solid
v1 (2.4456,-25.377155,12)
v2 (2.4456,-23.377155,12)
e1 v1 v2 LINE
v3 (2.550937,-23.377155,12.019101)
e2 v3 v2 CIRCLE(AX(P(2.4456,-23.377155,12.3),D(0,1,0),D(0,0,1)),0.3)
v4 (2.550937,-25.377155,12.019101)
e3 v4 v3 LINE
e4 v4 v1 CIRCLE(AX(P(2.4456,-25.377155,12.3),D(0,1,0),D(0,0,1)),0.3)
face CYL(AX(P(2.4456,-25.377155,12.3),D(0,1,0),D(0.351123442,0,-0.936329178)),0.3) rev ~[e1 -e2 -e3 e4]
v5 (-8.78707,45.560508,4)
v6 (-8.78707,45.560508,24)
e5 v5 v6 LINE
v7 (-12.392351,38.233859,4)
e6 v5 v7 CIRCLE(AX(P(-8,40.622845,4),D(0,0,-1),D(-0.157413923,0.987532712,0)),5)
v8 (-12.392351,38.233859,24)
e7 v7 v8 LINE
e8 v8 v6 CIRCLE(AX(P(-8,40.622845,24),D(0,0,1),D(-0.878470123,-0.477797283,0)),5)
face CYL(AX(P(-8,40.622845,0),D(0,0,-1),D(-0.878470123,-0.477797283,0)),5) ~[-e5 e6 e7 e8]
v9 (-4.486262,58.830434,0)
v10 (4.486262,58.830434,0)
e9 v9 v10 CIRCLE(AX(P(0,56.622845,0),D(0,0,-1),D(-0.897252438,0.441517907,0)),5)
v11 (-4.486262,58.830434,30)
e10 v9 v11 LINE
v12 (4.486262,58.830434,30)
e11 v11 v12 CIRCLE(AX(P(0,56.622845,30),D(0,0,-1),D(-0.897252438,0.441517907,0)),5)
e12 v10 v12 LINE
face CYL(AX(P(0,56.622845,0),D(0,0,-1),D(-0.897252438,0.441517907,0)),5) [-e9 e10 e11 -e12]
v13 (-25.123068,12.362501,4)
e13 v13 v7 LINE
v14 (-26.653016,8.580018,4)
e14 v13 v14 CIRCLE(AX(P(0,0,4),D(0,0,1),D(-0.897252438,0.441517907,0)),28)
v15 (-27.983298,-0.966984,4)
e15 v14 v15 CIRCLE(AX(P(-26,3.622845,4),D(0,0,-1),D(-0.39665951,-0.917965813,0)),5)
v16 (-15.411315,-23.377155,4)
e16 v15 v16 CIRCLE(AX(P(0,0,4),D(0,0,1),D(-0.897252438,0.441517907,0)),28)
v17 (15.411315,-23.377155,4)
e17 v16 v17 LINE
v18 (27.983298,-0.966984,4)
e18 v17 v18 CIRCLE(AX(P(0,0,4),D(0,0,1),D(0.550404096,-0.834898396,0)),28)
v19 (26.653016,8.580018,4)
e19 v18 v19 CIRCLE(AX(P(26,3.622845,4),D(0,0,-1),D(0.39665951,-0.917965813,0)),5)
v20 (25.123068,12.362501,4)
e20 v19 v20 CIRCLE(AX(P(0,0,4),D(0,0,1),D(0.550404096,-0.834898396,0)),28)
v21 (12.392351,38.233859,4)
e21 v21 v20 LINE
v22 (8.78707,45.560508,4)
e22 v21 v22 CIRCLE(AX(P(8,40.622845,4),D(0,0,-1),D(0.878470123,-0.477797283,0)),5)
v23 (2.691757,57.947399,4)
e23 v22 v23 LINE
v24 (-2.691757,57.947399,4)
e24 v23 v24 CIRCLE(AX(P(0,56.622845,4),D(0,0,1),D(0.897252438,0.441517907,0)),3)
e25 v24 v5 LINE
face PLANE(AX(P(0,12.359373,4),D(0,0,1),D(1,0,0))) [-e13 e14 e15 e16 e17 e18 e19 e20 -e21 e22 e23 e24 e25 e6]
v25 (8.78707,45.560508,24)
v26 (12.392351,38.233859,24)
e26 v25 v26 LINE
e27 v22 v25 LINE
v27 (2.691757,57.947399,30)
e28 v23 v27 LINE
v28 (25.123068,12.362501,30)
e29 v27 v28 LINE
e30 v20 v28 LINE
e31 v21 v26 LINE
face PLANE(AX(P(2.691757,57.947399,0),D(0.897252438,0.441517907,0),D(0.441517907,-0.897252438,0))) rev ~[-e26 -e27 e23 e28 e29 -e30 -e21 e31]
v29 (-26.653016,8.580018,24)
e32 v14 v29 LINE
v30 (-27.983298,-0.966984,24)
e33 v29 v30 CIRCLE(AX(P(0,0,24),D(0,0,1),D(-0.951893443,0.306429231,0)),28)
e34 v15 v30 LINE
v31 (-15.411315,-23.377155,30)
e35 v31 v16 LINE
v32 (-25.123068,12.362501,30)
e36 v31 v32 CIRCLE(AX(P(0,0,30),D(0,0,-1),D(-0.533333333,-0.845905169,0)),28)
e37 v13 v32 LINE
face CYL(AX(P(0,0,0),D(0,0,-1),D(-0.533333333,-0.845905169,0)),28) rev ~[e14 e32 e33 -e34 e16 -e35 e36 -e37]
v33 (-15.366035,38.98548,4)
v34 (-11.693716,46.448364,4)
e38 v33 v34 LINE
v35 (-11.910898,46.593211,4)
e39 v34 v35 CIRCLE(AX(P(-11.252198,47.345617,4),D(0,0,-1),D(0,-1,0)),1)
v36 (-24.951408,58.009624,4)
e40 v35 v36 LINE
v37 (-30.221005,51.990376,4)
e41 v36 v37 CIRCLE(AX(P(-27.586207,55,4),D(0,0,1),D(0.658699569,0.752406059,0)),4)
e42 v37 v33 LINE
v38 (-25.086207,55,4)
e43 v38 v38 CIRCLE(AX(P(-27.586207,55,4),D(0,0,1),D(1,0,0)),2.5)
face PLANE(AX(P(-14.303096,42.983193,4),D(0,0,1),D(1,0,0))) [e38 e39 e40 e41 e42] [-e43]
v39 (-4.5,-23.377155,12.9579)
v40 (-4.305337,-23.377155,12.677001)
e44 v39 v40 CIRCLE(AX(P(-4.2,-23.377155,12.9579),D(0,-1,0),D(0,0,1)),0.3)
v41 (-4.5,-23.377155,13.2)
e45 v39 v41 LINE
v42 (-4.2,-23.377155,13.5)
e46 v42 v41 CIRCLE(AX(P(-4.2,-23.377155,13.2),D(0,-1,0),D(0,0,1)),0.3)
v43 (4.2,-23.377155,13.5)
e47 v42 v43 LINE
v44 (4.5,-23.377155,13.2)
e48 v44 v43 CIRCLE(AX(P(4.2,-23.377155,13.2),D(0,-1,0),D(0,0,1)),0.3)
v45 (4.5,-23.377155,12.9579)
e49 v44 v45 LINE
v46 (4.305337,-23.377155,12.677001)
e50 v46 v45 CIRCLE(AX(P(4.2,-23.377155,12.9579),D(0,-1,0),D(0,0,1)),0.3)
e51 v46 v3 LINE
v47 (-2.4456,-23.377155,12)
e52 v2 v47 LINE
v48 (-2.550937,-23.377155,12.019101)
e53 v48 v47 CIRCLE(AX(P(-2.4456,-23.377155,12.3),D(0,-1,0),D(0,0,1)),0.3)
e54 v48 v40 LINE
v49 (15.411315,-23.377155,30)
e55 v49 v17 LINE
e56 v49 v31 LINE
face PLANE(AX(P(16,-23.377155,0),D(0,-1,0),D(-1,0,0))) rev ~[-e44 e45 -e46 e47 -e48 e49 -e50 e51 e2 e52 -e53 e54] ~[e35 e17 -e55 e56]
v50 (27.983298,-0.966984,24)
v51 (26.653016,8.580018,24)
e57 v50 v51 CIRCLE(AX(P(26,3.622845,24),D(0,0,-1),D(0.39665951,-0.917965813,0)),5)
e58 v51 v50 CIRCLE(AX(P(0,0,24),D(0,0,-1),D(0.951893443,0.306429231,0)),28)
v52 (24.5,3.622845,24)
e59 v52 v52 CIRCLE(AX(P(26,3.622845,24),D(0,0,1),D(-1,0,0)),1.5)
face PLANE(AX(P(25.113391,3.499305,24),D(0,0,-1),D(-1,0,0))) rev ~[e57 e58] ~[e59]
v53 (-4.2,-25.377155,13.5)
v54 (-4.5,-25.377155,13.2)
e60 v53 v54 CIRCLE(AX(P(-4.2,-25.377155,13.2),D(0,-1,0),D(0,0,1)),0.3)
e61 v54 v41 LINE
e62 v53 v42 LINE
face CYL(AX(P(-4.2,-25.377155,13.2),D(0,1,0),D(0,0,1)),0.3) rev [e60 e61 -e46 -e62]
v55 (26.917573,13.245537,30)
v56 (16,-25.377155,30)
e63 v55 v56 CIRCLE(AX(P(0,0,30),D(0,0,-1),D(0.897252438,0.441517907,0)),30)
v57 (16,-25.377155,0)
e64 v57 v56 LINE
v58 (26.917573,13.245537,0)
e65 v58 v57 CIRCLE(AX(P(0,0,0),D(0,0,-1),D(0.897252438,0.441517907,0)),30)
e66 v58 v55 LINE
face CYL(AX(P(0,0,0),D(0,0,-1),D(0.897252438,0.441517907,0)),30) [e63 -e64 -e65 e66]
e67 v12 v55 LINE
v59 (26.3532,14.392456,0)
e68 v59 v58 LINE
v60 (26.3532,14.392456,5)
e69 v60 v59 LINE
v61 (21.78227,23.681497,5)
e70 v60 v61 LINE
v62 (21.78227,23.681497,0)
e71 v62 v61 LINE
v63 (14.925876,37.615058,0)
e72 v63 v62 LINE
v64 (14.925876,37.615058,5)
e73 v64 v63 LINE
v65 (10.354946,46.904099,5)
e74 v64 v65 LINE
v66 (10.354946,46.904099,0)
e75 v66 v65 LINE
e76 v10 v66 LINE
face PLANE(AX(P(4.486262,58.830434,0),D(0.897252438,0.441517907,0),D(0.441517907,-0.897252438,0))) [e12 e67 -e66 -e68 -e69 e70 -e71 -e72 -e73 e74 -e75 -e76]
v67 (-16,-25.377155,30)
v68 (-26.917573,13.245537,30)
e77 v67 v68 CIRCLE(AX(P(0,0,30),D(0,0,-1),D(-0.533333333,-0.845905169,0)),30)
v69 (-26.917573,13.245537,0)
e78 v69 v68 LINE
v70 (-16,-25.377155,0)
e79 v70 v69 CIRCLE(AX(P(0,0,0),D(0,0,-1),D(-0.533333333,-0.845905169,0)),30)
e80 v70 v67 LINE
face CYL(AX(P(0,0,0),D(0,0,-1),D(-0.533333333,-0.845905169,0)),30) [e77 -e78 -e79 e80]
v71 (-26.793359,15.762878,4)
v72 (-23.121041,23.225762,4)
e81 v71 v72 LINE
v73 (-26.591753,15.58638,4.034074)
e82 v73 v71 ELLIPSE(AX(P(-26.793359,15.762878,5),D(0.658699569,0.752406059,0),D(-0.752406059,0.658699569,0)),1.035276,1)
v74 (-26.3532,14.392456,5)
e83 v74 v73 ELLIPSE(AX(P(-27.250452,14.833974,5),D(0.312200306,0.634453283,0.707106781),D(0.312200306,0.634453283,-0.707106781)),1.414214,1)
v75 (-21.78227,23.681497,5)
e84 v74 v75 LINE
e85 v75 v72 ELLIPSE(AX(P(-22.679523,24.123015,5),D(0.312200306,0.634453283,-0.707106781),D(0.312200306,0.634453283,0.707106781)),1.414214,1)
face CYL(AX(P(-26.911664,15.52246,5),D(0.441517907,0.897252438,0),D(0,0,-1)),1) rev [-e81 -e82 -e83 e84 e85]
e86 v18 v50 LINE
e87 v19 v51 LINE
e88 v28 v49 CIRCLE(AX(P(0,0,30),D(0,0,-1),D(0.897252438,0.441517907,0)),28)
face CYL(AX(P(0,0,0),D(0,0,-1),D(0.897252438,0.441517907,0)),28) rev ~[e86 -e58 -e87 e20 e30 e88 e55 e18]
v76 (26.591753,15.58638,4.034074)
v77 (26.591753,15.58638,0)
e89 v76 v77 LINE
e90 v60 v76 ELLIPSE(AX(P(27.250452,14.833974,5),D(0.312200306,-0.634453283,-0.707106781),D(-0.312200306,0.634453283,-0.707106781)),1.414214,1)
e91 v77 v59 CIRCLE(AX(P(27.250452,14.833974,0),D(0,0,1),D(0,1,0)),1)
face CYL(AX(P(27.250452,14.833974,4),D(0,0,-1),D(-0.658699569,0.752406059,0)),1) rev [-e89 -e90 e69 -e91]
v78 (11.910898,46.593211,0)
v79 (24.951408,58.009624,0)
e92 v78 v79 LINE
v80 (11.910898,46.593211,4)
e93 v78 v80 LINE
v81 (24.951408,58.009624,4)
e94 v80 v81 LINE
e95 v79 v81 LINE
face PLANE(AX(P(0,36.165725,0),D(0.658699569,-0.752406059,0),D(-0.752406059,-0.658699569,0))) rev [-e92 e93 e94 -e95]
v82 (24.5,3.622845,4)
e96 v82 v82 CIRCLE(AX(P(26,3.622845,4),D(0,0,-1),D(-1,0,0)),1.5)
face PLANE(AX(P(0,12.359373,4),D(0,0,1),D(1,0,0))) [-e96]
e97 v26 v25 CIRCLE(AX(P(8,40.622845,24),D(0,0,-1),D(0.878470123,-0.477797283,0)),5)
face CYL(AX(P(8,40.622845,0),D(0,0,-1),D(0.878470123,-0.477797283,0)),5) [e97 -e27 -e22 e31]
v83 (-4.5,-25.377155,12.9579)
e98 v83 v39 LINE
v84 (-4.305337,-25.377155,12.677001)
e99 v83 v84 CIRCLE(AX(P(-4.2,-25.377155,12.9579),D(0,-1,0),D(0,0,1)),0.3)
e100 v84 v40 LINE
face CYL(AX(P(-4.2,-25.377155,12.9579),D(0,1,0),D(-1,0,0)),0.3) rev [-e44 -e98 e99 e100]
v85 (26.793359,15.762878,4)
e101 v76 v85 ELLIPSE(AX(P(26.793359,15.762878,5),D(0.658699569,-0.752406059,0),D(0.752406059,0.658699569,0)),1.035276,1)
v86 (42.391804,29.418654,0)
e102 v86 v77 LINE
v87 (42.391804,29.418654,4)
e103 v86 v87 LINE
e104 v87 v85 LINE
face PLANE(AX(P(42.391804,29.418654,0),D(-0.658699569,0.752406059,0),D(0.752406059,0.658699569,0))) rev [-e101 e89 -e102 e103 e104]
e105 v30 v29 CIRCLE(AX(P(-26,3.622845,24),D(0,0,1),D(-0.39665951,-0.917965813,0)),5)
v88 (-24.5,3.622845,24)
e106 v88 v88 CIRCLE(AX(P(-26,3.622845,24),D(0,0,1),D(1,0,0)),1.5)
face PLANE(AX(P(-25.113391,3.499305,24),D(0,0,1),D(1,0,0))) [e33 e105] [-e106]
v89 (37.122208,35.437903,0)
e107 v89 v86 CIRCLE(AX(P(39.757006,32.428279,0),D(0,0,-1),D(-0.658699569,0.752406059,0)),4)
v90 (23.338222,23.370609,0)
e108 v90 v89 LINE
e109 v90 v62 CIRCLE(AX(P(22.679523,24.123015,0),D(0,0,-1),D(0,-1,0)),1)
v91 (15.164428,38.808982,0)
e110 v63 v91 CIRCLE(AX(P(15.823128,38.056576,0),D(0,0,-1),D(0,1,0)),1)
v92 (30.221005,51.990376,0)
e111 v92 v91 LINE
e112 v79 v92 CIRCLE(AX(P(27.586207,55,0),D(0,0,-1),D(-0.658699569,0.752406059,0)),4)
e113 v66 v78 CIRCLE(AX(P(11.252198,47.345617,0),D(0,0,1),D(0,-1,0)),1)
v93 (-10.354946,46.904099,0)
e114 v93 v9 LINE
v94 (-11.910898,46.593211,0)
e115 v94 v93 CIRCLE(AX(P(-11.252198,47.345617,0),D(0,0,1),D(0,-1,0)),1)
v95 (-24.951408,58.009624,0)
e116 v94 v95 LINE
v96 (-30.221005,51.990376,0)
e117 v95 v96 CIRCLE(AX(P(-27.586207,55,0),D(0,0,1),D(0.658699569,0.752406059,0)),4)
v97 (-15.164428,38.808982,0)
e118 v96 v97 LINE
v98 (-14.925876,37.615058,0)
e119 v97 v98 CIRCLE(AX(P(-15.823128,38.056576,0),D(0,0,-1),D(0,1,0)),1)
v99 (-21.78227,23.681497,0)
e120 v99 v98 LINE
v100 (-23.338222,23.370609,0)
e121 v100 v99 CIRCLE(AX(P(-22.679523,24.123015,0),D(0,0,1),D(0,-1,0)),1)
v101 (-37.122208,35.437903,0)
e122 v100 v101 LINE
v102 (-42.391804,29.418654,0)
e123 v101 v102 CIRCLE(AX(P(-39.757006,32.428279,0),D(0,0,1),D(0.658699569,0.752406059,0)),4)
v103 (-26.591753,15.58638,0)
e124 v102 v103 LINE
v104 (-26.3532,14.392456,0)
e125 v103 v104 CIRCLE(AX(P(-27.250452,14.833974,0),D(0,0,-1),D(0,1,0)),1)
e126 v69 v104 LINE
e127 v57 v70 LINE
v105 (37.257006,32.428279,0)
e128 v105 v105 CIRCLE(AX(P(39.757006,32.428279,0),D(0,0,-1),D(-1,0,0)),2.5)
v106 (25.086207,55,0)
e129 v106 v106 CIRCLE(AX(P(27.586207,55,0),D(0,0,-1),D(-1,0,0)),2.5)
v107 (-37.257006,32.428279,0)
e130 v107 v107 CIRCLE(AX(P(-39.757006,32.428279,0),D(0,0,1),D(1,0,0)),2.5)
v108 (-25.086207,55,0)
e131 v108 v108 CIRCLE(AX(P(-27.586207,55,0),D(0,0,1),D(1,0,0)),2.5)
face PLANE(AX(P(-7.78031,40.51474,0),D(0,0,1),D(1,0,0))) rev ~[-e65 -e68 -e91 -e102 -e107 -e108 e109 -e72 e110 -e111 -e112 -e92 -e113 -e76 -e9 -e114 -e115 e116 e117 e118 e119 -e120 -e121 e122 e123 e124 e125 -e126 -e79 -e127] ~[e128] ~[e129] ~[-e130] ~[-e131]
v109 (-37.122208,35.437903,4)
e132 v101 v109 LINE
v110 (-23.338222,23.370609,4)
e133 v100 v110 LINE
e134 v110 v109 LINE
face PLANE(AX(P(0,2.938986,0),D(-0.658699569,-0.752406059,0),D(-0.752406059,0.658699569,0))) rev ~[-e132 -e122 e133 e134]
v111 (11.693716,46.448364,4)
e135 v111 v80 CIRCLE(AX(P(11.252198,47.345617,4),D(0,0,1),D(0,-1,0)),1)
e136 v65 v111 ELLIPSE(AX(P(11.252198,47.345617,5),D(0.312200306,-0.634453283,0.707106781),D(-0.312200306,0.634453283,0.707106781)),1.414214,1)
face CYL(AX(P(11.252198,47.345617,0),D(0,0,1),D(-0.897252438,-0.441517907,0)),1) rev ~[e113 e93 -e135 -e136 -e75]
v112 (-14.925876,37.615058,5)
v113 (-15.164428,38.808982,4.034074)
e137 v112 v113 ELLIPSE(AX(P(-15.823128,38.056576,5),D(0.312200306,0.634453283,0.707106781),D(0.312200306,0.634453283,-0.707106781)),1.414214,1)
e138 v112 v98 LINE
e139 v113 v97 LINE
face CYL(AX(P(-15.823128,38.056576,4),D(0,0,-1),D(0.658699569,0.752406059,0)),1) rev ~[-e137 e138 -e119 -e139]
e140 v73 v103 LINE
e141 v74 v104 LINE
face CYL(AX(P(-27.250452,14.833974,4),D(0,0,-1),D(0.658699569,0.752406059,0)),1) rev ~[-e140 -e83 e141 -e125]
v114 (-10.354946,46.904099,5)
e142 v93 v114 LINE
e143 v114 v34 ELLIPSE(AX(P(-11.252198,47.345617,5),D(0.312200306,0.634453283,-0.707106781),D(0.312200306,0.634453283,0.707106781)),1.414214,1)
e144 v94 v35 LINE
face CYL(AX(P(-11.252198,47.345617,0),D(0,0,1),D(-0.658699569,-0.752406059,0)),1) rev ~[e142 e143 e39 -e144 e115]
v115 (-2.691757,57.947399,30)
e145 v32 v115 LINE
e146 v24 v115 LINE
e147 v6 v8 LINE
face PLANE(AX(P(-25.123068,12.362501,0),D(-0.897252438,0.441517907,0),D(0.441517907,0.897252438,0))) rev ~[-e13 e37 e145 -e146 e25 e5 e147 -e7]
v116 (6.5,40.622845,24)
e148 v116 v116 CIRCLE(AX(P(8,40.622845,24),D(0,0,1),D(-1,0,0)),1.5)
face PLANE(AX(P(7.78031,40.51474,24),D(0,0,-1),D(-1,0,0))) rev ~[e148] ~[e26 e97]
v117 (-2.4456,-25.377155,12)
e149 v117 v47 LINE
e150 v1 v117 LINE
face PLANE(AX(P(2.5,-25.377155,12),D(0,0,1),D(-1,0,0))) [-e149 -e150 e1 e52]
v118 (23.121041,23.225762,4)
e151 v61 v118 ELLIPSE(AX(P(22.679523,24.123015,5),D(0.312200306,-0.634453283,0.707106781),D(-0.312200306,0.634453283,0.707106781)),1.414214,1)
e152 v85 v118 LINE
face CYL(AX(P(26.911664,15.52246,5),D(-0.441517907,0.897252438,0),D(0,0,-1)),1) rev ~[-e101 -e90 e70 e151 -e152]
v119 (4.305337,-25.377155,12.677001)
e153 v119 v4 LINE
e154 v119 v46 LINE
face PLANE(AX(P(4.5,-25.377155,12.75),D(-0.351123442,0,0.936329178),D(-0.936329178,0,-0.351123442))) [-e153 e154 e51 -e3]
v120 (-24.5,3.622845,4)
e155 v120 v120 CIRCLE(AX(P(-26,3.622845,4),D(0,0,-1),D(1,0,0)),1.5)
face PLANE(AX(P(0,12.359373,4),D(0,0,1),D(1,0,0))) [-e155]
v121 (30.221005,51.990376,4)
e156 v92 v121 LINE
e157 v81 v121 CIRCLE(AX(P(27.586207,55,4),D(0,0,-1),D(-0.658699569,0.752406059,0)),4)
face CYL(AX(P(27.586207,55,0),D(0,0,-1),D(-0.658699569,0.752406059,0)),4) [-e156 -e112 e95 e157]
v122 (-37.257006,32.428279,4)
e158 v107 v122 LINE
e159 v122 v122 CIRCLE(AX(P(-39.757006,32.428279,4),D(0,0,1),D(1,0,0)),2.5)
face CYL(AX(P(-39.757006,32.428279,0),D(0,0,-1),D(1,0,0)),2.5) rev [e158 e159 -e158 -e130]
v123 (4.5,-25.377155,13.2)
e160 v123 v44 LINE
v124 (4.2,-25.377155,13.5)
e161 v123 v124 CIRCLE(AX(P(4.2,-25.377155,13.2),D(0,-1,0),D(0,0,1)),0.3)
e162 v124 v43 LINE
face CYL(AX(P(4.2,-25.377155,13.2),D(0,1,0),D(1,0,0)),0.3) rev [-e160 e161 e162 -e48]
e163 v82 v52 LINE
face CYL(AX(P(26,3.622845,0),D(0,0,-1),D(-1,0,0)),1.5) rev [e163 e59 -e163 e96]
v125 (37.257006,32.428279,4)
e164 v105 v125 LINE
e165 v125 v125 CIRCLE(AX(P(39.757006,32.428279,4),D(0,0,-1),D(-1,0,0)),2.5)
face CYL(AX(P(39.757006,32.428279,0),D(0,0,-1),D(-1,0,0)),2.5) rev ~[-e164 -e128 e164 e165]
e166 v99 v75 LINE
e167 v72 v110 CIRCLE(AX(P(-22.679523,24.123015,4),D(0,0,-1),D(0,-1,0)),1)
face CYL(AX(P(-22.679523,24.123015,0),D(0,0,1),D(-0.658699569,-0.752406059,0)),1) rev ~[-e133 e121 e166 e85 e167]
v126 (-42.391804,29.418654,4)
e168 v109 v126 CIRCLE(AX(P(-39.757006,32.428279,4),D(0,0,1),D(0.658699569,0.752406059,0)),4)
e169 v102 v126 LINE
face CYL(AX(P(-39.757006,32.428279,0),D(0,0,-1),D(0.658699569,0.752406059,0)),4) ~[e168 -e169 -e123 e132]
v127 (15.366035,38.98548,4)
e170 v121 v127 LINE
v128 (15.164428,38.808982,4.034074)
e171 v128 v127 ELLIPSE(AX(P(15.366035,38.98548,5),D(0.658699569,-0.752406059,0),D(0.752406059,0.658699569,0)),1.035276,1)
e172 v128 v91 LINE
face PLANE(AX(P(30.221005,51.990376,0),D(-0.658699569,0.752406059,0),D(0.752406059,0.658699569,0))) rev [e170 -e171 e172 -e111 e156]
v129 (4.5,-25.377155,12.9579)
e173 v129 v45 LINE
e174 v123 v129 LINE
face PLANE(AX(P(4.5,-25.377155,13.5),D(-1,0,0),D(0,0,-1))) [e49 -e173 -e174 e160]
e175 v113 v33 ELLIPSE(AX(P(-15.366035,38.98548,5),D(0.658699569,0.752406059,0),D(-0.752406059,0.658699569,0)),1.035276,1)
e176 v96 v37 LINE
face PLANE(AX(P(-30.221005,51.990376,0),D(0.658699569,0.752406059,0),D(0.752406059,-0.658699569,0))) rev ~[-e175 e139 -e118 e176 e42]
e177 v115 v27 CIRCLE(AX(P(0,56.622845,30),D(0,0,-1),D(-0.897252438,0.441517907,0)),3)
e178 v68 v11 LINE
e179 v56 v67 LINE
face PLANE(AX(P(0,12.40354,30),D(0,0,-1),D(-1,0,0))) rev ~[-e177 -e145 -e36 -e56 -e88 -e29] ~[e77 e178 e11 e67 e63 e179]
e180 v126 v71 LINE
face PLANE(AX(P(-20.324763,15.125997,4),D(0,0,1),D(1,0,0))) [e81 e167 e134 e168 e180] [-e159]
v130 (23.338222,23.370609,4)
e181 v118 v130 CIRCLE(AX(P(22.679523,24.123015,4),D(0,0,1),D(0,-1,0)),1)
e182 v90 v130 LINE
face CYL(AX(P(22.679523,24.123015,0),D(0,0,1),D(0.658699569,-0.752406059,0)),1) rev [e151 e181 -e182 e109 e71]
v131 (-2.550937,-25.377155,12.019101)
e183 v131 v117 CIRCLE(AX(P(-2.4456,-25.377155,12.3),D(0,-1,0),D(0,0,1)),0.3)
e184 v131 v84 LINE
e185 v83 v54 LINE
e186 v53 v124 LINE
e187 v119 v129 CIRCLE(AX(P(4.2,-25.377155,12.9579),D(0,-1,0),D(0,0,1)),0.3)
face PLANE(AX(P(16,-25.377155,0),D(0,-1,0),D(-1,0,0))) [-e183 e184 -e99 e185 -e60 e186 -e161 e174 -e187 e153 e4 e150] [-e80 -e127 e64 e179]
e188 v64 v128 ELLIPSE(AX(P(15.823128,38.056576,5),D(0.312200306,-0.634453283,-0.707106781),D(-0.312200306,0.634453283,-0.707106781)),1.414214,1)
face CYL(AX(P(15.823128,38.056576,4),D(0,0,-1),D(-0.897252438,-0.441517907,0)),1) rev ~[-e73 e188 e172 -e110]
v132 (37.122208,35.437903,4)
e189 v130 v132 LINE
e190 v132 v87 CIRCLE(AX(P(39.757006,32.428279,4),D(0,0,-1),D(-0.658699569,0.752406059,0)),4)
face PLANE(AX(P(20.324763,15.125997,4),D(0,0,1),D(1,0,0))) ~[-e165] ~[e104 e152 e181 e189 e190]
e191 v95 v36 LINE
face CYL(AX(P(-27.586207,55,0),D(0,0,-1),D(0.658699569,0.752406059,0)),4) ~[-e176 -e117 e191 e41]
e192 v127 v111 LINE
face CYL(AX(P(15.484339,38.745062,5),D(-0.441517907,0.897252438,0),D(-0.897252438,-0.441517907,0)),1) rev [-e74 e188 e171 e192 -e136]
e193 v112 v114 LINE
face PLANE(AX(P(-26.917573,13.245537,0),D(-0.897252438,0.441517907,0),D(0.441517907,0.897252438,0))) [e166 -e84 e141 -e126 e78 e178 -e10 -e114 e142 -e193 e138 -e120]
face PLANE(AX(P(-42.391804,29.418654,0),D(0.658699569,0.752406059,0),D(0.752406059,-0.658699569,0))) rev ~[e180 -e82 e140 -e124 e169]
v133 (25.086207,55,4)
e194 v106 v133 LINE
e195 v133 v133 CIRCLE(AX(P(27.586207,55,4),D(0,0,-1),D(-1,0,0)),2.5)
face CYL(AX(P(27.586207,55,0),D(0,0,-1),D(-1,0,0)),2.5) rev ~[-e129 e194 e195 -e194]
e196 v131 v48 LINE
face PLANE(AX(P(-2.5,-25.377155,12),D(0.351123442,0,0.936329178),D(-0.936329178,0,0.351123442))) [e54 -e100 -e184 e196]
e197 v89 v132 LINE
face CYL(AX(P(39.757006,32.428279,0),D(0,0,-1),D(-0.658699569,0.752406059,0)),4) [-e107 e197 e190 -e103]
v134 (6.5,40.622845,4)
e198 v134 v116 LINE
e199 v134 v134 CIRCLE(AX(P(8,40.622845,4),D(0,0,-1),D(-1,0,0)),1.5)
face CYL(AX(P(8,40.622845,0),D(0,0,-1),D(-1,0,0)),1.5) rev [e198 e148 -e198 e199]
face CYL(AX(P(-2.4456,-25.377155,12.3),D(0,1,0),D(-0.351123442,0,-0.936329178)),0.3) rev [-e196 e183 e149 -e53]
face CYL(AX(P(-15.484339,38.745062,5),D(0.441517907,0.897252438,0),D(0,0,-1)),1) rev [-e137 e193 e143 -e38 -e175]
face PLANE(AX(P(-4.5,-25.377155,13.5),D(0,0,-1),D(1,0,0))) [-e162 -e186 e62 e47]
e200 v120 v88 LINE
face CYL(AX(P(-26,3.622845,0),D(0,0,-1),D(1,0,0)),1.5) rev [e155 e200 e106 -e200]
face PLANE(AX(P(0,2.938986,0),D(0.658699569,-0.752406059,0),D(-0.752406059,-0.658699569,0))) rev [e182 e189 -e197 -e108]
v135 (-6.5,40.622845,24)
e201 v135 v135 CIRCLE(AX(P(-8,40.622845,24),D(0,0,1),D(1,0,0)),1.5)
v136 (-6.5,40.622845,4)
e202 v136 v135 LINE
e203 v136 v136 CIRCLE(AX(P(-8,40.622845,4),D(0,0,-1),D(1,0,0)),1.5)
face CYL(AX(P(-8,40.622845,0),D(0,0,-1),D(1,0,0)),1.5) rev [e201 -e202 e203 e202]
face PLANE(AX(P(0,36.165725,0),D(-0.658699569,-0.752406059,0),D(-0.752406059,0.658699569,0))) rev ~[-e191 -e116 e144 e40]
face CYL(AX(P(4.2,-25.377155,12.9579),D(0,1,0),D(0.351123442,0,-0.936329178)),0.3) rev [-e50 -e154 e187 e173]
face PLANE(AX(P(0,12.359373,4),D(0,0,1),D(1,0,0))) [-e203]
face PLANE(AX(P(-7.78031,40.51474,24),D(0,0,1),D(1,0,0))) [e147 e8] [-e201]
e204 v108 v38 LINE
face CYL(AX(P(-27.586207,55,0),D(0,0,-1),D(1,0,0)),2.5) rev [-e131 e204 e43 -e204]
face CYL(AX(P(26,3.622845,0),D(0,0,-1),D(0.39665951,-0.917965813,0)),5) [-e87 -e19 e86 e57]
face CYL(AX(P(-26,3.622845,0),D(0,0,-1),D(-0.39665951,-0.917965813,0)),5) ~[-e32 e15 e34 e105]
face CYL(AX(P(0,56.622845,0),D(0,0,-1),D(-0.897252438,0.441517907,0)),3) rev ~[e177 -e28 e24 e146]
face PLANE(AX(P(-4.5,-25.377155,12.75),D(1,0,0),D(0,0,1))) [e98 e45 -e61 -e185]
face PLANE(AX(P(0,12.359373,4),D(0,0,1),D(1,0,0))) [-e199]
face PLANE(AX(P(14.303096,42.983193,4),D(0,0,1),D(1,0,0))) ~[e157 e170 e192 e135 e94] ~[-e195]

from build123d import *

# Parameters (mm, degrees)
BASE_SHELL_DEPTH         = 30
COQUE1_T                 = -2
COQUE1_THICKNESS_2_DEPTH = 2
ESQUISSE4_R              = 1.5
BOSS_EXTRU_2_DEPTH       = 24
ESQUISSE6_R              = 2.5
BOSS_EXTRU_3_DEPTH       = 4
CONG_2_R                 = 1
ENL_V_MAT_EXTRU_1_DEPTH  = 2
CONG_3_R                 = 0.3


with BuildPart() as part:
    # Esquisse2 → Base shell (new body)
    with BuildSketch(Plane.XY):
        with BuildLine():
            Line((-26.917573139, 13.245537222), (-4.48626219, 58.830434456))
            ThreePointArc((-4.48626219, 58.830434456), (0, 61.622844919), (4.48626219, 58.830434456))
            Line((4.48626219, 58.830434456), (26.917573139, 13.245537222))
            ThreePointArc((26.917573139, 13.245537222), (28.868799962, -8.160415969), (16, -25.377155081))
            Line((16, -25.377155081), (-16, -25.377155081))
            ThreePointArc((-16, -25.377155081), (-28.868799962, -8.160415969), (-26.917573139, 13.245537222))
        make_face()
    extrude(amount=BASE_SHELL_DEPTH)

    # Coque1
    coque1_openings = [part.faces().sort_by_distance(p)[0] for p in [
        (0, 9.805982993, 30),
    ]]
    offset(amount=COQUE1_T, openings=coque1_openings, kind=Kind.INTERSECTION)

    # Coque1 thickness 2 face (on inner face of the shell) → Coque1 thickness 2 (add)
    with BuildSketch(Plane(origin=(0, 9.437987549, 2), x_dir=(-1, 0, 0), z_dir=(0, 0, -1))):
        with BuildLine():
            Line((2.691757314, 48.509411092), (25.123068263, 2.924513858))
            ThreePointArc((25.123068263, 2.924513858), (27.020174162, -16.780343321), (15.411314685, -32.81514263))
            Line((15.411314685, -32.81514263), (-15.411314685, -32.81514263))
            ThreePointArc((-15.411314685, -32.81514263), (-27.020174162, -16.780343321), (-25.123068263, 2.924513858))
            Line((-25.123068263, 2.924513858), (-2.691757314, 48.509411092))
            ThreePointArc((-2.691757314, 48.509411092), (0, 50.18485737), (2.691757314, 48.509411092))
        make_face()
    extrude(amount=-COQUE1_THICKNESS_2_DEPTH)

    # Esquisse4 → Boss.-Extru.2 (add)
    # profile 1 of 4: a face of its own
    with BuildSketch(Plane.XY):
        with BuildLine():
            Line((-8.787069617, 45.560508478), (-12.392350614, 38.233858506))
            ThreePointArc((-12.392350614, 38.233858506), (-3.51373781, 38.415255382), (-8.787069617, 45.560508478))
        make_face()
        with Locations((-8, 40.622844919)):
            Circle(ESQUISSE4_R, mode=Mode.SUBTRACT)
    # profile 2 of 4: a face of its own
    with BuildSketch(Plane.XY):
        with BuildLine():
            Line((8.787069617, 45.560508478), (12.392350614, 38.233858506))
            ThreePointArc((12.392350614, 38.233858506), (3.51373781, 38.415255382), (8.787069617, 45.560508478))
        make_face()
        with Locations(Location((8, 40.622844919, 0), (0, 0, 180))):
            Circle(ESQUISSE4_R, mode=Mode.SUBTRACT)
    # profile 3 of 4: a face of its own
    with BuildSketch(Plane.XY):
        with BuildLine():
            ThreePointArc((-27.983297548, -0.966984145), (-21.047843649, 2.932810516), (-26.653016398, 8.580018467))
            ThreePointArc((-26.653016398, 8.580018467), (-27.732075565, 3.864192656), (-27.983297548, -0.966984145))
        make_face()
        with Locations((-26, 3.622844919)):
            Circle(ESQUISSE4_R, mode=Mode.SUBTRACT)
    # profile 4 of 4: a face of its own
    with BuildSketch(Plane.XY):
        with BuildLine():
            ThreePointArc((27.983297548, -0.966984145), (21.047843649, 2.932810516), (26.653016398, 8.580018467))
            ThreePointArc((26.653016398, 8.580018467), (27.732075565, 3.864192656), (27.983297548, -0.966984145))
        make_face()
        with Locations(Location((26, 3.622844919, 0), (0, 0, 180))):
            Circle(ESQUISSE4_R, mode=Mode.SUBTRACT)
    extrude(amount=BOSS_EXTRU_2_DEPTH)

    # Esquisse6 → Boss.-Extru.3 (add)
    # profile 1 of 2: a face of its own
    with BuildSketch(Plane.XY):
        with BuildLine():
            Line((0, 36.165725179), (-24.951408489, 58.009624237))
            ThreePointArc((-24.951408489, 58.009624237), (-30.595831001, 57.634798275), (-30.221005039, 51.990375763))
            Line((-30.221005039, 51.990375763), (0, 25.533168595))
            Line((0, 25.533168595), (0, 36.165725179))
        make_face()
        with Locations((-27.586206764, 55)):
            Circle(ESQUISSE6_R, mode=Mode.SUBTRACT)
    # profile 2 of 2: a face of its own
    with BuildSketch(Plane.XY):
        with BuildLine():
            Line((0, 2.938985855), (-37.122207588, 35.437902929))
            ThreePointArc((-37.122207588, 35.437902929), (-42.7666301, 35.063076966), (-42.391804138, 29.418654454))
            Line((-42.391804138, 29.418654454), (0, -7.693570729))
            Line((0, -7.693570729), (0, 2.938985855))
        make_face()
        with Locations((-39.757005863, 32.428278691)):
            Circle(ESQUISSE6_R, mode=Mode.SUBTRACT)
    boss_extru_3 = extrude(amount=BOSS_EXTRU_3_DEPTH)

    # Symétrie1: Boss.-Extru.3 across plane
    add(boss_extru_3.mirror(Plane(origin=(0, 0, 0), x_dir=(0, 0, 1), z_dir=(1, 0, 0))))

    # Congé2
    cong_2_edges = [part.edges().sort_by_distance(p)[0] for p in [
        (-14.587086989, 38.303544098, 2),
        (-10.930343207, 45.734776713, 2),
        (-24.186039417, 18.796558485, 4),
        (-22.357667526, 22.512174792, 2),
        (-26.014411308, 15.080942177, 2),
        (12.758715098, 42.019160406, 4),
        (14.587086989, 38.303544098, 2),
        (10.930343207, 45.734776713, 2),
        (24.186039417, 18.796558485, 4),
        (22.357667526, 22.512174792, 2),
        (26.014411308, 15.080942177, 2),
        (-12.758715098, 42.019160406, 4),
    ]]
    fillet(cong_2_edges, radius=CONG_2_R)

    # Esquisse8 → Enlèv. mat.-Extru.1 (cut)
    with BuildSketch(Plane.XZ.offset(25.377155081)):
        Polygon((2.5, 12), (-2.5, 12), (-4.5, 12.75), (-4.5, 13.5), (4.5, 13.5), (4.5, 12.75), align=None)
    extrude(amount=-ENL_V_MAT_EXTRU_1_DEPTH, mode=Mode.SUBTRACT)

    # Congé3
    cong_3_edges = [part.edges().sort_by_distance(p)[0] for p in [
        (2.5, -24.377155081, 12),
        (4.5, -24.377155081, 12.75),
        (4.5, -24.377155081, 13.5),
        (-4.5, -24.377155081, 13.5),
        (-4.5, -24.377155081, 12.75),
        (-2.5, -24.377155081, 12),
    ]]
    fillet(cong_3_edges, radius=CONG_3_R)


solid = part.part
